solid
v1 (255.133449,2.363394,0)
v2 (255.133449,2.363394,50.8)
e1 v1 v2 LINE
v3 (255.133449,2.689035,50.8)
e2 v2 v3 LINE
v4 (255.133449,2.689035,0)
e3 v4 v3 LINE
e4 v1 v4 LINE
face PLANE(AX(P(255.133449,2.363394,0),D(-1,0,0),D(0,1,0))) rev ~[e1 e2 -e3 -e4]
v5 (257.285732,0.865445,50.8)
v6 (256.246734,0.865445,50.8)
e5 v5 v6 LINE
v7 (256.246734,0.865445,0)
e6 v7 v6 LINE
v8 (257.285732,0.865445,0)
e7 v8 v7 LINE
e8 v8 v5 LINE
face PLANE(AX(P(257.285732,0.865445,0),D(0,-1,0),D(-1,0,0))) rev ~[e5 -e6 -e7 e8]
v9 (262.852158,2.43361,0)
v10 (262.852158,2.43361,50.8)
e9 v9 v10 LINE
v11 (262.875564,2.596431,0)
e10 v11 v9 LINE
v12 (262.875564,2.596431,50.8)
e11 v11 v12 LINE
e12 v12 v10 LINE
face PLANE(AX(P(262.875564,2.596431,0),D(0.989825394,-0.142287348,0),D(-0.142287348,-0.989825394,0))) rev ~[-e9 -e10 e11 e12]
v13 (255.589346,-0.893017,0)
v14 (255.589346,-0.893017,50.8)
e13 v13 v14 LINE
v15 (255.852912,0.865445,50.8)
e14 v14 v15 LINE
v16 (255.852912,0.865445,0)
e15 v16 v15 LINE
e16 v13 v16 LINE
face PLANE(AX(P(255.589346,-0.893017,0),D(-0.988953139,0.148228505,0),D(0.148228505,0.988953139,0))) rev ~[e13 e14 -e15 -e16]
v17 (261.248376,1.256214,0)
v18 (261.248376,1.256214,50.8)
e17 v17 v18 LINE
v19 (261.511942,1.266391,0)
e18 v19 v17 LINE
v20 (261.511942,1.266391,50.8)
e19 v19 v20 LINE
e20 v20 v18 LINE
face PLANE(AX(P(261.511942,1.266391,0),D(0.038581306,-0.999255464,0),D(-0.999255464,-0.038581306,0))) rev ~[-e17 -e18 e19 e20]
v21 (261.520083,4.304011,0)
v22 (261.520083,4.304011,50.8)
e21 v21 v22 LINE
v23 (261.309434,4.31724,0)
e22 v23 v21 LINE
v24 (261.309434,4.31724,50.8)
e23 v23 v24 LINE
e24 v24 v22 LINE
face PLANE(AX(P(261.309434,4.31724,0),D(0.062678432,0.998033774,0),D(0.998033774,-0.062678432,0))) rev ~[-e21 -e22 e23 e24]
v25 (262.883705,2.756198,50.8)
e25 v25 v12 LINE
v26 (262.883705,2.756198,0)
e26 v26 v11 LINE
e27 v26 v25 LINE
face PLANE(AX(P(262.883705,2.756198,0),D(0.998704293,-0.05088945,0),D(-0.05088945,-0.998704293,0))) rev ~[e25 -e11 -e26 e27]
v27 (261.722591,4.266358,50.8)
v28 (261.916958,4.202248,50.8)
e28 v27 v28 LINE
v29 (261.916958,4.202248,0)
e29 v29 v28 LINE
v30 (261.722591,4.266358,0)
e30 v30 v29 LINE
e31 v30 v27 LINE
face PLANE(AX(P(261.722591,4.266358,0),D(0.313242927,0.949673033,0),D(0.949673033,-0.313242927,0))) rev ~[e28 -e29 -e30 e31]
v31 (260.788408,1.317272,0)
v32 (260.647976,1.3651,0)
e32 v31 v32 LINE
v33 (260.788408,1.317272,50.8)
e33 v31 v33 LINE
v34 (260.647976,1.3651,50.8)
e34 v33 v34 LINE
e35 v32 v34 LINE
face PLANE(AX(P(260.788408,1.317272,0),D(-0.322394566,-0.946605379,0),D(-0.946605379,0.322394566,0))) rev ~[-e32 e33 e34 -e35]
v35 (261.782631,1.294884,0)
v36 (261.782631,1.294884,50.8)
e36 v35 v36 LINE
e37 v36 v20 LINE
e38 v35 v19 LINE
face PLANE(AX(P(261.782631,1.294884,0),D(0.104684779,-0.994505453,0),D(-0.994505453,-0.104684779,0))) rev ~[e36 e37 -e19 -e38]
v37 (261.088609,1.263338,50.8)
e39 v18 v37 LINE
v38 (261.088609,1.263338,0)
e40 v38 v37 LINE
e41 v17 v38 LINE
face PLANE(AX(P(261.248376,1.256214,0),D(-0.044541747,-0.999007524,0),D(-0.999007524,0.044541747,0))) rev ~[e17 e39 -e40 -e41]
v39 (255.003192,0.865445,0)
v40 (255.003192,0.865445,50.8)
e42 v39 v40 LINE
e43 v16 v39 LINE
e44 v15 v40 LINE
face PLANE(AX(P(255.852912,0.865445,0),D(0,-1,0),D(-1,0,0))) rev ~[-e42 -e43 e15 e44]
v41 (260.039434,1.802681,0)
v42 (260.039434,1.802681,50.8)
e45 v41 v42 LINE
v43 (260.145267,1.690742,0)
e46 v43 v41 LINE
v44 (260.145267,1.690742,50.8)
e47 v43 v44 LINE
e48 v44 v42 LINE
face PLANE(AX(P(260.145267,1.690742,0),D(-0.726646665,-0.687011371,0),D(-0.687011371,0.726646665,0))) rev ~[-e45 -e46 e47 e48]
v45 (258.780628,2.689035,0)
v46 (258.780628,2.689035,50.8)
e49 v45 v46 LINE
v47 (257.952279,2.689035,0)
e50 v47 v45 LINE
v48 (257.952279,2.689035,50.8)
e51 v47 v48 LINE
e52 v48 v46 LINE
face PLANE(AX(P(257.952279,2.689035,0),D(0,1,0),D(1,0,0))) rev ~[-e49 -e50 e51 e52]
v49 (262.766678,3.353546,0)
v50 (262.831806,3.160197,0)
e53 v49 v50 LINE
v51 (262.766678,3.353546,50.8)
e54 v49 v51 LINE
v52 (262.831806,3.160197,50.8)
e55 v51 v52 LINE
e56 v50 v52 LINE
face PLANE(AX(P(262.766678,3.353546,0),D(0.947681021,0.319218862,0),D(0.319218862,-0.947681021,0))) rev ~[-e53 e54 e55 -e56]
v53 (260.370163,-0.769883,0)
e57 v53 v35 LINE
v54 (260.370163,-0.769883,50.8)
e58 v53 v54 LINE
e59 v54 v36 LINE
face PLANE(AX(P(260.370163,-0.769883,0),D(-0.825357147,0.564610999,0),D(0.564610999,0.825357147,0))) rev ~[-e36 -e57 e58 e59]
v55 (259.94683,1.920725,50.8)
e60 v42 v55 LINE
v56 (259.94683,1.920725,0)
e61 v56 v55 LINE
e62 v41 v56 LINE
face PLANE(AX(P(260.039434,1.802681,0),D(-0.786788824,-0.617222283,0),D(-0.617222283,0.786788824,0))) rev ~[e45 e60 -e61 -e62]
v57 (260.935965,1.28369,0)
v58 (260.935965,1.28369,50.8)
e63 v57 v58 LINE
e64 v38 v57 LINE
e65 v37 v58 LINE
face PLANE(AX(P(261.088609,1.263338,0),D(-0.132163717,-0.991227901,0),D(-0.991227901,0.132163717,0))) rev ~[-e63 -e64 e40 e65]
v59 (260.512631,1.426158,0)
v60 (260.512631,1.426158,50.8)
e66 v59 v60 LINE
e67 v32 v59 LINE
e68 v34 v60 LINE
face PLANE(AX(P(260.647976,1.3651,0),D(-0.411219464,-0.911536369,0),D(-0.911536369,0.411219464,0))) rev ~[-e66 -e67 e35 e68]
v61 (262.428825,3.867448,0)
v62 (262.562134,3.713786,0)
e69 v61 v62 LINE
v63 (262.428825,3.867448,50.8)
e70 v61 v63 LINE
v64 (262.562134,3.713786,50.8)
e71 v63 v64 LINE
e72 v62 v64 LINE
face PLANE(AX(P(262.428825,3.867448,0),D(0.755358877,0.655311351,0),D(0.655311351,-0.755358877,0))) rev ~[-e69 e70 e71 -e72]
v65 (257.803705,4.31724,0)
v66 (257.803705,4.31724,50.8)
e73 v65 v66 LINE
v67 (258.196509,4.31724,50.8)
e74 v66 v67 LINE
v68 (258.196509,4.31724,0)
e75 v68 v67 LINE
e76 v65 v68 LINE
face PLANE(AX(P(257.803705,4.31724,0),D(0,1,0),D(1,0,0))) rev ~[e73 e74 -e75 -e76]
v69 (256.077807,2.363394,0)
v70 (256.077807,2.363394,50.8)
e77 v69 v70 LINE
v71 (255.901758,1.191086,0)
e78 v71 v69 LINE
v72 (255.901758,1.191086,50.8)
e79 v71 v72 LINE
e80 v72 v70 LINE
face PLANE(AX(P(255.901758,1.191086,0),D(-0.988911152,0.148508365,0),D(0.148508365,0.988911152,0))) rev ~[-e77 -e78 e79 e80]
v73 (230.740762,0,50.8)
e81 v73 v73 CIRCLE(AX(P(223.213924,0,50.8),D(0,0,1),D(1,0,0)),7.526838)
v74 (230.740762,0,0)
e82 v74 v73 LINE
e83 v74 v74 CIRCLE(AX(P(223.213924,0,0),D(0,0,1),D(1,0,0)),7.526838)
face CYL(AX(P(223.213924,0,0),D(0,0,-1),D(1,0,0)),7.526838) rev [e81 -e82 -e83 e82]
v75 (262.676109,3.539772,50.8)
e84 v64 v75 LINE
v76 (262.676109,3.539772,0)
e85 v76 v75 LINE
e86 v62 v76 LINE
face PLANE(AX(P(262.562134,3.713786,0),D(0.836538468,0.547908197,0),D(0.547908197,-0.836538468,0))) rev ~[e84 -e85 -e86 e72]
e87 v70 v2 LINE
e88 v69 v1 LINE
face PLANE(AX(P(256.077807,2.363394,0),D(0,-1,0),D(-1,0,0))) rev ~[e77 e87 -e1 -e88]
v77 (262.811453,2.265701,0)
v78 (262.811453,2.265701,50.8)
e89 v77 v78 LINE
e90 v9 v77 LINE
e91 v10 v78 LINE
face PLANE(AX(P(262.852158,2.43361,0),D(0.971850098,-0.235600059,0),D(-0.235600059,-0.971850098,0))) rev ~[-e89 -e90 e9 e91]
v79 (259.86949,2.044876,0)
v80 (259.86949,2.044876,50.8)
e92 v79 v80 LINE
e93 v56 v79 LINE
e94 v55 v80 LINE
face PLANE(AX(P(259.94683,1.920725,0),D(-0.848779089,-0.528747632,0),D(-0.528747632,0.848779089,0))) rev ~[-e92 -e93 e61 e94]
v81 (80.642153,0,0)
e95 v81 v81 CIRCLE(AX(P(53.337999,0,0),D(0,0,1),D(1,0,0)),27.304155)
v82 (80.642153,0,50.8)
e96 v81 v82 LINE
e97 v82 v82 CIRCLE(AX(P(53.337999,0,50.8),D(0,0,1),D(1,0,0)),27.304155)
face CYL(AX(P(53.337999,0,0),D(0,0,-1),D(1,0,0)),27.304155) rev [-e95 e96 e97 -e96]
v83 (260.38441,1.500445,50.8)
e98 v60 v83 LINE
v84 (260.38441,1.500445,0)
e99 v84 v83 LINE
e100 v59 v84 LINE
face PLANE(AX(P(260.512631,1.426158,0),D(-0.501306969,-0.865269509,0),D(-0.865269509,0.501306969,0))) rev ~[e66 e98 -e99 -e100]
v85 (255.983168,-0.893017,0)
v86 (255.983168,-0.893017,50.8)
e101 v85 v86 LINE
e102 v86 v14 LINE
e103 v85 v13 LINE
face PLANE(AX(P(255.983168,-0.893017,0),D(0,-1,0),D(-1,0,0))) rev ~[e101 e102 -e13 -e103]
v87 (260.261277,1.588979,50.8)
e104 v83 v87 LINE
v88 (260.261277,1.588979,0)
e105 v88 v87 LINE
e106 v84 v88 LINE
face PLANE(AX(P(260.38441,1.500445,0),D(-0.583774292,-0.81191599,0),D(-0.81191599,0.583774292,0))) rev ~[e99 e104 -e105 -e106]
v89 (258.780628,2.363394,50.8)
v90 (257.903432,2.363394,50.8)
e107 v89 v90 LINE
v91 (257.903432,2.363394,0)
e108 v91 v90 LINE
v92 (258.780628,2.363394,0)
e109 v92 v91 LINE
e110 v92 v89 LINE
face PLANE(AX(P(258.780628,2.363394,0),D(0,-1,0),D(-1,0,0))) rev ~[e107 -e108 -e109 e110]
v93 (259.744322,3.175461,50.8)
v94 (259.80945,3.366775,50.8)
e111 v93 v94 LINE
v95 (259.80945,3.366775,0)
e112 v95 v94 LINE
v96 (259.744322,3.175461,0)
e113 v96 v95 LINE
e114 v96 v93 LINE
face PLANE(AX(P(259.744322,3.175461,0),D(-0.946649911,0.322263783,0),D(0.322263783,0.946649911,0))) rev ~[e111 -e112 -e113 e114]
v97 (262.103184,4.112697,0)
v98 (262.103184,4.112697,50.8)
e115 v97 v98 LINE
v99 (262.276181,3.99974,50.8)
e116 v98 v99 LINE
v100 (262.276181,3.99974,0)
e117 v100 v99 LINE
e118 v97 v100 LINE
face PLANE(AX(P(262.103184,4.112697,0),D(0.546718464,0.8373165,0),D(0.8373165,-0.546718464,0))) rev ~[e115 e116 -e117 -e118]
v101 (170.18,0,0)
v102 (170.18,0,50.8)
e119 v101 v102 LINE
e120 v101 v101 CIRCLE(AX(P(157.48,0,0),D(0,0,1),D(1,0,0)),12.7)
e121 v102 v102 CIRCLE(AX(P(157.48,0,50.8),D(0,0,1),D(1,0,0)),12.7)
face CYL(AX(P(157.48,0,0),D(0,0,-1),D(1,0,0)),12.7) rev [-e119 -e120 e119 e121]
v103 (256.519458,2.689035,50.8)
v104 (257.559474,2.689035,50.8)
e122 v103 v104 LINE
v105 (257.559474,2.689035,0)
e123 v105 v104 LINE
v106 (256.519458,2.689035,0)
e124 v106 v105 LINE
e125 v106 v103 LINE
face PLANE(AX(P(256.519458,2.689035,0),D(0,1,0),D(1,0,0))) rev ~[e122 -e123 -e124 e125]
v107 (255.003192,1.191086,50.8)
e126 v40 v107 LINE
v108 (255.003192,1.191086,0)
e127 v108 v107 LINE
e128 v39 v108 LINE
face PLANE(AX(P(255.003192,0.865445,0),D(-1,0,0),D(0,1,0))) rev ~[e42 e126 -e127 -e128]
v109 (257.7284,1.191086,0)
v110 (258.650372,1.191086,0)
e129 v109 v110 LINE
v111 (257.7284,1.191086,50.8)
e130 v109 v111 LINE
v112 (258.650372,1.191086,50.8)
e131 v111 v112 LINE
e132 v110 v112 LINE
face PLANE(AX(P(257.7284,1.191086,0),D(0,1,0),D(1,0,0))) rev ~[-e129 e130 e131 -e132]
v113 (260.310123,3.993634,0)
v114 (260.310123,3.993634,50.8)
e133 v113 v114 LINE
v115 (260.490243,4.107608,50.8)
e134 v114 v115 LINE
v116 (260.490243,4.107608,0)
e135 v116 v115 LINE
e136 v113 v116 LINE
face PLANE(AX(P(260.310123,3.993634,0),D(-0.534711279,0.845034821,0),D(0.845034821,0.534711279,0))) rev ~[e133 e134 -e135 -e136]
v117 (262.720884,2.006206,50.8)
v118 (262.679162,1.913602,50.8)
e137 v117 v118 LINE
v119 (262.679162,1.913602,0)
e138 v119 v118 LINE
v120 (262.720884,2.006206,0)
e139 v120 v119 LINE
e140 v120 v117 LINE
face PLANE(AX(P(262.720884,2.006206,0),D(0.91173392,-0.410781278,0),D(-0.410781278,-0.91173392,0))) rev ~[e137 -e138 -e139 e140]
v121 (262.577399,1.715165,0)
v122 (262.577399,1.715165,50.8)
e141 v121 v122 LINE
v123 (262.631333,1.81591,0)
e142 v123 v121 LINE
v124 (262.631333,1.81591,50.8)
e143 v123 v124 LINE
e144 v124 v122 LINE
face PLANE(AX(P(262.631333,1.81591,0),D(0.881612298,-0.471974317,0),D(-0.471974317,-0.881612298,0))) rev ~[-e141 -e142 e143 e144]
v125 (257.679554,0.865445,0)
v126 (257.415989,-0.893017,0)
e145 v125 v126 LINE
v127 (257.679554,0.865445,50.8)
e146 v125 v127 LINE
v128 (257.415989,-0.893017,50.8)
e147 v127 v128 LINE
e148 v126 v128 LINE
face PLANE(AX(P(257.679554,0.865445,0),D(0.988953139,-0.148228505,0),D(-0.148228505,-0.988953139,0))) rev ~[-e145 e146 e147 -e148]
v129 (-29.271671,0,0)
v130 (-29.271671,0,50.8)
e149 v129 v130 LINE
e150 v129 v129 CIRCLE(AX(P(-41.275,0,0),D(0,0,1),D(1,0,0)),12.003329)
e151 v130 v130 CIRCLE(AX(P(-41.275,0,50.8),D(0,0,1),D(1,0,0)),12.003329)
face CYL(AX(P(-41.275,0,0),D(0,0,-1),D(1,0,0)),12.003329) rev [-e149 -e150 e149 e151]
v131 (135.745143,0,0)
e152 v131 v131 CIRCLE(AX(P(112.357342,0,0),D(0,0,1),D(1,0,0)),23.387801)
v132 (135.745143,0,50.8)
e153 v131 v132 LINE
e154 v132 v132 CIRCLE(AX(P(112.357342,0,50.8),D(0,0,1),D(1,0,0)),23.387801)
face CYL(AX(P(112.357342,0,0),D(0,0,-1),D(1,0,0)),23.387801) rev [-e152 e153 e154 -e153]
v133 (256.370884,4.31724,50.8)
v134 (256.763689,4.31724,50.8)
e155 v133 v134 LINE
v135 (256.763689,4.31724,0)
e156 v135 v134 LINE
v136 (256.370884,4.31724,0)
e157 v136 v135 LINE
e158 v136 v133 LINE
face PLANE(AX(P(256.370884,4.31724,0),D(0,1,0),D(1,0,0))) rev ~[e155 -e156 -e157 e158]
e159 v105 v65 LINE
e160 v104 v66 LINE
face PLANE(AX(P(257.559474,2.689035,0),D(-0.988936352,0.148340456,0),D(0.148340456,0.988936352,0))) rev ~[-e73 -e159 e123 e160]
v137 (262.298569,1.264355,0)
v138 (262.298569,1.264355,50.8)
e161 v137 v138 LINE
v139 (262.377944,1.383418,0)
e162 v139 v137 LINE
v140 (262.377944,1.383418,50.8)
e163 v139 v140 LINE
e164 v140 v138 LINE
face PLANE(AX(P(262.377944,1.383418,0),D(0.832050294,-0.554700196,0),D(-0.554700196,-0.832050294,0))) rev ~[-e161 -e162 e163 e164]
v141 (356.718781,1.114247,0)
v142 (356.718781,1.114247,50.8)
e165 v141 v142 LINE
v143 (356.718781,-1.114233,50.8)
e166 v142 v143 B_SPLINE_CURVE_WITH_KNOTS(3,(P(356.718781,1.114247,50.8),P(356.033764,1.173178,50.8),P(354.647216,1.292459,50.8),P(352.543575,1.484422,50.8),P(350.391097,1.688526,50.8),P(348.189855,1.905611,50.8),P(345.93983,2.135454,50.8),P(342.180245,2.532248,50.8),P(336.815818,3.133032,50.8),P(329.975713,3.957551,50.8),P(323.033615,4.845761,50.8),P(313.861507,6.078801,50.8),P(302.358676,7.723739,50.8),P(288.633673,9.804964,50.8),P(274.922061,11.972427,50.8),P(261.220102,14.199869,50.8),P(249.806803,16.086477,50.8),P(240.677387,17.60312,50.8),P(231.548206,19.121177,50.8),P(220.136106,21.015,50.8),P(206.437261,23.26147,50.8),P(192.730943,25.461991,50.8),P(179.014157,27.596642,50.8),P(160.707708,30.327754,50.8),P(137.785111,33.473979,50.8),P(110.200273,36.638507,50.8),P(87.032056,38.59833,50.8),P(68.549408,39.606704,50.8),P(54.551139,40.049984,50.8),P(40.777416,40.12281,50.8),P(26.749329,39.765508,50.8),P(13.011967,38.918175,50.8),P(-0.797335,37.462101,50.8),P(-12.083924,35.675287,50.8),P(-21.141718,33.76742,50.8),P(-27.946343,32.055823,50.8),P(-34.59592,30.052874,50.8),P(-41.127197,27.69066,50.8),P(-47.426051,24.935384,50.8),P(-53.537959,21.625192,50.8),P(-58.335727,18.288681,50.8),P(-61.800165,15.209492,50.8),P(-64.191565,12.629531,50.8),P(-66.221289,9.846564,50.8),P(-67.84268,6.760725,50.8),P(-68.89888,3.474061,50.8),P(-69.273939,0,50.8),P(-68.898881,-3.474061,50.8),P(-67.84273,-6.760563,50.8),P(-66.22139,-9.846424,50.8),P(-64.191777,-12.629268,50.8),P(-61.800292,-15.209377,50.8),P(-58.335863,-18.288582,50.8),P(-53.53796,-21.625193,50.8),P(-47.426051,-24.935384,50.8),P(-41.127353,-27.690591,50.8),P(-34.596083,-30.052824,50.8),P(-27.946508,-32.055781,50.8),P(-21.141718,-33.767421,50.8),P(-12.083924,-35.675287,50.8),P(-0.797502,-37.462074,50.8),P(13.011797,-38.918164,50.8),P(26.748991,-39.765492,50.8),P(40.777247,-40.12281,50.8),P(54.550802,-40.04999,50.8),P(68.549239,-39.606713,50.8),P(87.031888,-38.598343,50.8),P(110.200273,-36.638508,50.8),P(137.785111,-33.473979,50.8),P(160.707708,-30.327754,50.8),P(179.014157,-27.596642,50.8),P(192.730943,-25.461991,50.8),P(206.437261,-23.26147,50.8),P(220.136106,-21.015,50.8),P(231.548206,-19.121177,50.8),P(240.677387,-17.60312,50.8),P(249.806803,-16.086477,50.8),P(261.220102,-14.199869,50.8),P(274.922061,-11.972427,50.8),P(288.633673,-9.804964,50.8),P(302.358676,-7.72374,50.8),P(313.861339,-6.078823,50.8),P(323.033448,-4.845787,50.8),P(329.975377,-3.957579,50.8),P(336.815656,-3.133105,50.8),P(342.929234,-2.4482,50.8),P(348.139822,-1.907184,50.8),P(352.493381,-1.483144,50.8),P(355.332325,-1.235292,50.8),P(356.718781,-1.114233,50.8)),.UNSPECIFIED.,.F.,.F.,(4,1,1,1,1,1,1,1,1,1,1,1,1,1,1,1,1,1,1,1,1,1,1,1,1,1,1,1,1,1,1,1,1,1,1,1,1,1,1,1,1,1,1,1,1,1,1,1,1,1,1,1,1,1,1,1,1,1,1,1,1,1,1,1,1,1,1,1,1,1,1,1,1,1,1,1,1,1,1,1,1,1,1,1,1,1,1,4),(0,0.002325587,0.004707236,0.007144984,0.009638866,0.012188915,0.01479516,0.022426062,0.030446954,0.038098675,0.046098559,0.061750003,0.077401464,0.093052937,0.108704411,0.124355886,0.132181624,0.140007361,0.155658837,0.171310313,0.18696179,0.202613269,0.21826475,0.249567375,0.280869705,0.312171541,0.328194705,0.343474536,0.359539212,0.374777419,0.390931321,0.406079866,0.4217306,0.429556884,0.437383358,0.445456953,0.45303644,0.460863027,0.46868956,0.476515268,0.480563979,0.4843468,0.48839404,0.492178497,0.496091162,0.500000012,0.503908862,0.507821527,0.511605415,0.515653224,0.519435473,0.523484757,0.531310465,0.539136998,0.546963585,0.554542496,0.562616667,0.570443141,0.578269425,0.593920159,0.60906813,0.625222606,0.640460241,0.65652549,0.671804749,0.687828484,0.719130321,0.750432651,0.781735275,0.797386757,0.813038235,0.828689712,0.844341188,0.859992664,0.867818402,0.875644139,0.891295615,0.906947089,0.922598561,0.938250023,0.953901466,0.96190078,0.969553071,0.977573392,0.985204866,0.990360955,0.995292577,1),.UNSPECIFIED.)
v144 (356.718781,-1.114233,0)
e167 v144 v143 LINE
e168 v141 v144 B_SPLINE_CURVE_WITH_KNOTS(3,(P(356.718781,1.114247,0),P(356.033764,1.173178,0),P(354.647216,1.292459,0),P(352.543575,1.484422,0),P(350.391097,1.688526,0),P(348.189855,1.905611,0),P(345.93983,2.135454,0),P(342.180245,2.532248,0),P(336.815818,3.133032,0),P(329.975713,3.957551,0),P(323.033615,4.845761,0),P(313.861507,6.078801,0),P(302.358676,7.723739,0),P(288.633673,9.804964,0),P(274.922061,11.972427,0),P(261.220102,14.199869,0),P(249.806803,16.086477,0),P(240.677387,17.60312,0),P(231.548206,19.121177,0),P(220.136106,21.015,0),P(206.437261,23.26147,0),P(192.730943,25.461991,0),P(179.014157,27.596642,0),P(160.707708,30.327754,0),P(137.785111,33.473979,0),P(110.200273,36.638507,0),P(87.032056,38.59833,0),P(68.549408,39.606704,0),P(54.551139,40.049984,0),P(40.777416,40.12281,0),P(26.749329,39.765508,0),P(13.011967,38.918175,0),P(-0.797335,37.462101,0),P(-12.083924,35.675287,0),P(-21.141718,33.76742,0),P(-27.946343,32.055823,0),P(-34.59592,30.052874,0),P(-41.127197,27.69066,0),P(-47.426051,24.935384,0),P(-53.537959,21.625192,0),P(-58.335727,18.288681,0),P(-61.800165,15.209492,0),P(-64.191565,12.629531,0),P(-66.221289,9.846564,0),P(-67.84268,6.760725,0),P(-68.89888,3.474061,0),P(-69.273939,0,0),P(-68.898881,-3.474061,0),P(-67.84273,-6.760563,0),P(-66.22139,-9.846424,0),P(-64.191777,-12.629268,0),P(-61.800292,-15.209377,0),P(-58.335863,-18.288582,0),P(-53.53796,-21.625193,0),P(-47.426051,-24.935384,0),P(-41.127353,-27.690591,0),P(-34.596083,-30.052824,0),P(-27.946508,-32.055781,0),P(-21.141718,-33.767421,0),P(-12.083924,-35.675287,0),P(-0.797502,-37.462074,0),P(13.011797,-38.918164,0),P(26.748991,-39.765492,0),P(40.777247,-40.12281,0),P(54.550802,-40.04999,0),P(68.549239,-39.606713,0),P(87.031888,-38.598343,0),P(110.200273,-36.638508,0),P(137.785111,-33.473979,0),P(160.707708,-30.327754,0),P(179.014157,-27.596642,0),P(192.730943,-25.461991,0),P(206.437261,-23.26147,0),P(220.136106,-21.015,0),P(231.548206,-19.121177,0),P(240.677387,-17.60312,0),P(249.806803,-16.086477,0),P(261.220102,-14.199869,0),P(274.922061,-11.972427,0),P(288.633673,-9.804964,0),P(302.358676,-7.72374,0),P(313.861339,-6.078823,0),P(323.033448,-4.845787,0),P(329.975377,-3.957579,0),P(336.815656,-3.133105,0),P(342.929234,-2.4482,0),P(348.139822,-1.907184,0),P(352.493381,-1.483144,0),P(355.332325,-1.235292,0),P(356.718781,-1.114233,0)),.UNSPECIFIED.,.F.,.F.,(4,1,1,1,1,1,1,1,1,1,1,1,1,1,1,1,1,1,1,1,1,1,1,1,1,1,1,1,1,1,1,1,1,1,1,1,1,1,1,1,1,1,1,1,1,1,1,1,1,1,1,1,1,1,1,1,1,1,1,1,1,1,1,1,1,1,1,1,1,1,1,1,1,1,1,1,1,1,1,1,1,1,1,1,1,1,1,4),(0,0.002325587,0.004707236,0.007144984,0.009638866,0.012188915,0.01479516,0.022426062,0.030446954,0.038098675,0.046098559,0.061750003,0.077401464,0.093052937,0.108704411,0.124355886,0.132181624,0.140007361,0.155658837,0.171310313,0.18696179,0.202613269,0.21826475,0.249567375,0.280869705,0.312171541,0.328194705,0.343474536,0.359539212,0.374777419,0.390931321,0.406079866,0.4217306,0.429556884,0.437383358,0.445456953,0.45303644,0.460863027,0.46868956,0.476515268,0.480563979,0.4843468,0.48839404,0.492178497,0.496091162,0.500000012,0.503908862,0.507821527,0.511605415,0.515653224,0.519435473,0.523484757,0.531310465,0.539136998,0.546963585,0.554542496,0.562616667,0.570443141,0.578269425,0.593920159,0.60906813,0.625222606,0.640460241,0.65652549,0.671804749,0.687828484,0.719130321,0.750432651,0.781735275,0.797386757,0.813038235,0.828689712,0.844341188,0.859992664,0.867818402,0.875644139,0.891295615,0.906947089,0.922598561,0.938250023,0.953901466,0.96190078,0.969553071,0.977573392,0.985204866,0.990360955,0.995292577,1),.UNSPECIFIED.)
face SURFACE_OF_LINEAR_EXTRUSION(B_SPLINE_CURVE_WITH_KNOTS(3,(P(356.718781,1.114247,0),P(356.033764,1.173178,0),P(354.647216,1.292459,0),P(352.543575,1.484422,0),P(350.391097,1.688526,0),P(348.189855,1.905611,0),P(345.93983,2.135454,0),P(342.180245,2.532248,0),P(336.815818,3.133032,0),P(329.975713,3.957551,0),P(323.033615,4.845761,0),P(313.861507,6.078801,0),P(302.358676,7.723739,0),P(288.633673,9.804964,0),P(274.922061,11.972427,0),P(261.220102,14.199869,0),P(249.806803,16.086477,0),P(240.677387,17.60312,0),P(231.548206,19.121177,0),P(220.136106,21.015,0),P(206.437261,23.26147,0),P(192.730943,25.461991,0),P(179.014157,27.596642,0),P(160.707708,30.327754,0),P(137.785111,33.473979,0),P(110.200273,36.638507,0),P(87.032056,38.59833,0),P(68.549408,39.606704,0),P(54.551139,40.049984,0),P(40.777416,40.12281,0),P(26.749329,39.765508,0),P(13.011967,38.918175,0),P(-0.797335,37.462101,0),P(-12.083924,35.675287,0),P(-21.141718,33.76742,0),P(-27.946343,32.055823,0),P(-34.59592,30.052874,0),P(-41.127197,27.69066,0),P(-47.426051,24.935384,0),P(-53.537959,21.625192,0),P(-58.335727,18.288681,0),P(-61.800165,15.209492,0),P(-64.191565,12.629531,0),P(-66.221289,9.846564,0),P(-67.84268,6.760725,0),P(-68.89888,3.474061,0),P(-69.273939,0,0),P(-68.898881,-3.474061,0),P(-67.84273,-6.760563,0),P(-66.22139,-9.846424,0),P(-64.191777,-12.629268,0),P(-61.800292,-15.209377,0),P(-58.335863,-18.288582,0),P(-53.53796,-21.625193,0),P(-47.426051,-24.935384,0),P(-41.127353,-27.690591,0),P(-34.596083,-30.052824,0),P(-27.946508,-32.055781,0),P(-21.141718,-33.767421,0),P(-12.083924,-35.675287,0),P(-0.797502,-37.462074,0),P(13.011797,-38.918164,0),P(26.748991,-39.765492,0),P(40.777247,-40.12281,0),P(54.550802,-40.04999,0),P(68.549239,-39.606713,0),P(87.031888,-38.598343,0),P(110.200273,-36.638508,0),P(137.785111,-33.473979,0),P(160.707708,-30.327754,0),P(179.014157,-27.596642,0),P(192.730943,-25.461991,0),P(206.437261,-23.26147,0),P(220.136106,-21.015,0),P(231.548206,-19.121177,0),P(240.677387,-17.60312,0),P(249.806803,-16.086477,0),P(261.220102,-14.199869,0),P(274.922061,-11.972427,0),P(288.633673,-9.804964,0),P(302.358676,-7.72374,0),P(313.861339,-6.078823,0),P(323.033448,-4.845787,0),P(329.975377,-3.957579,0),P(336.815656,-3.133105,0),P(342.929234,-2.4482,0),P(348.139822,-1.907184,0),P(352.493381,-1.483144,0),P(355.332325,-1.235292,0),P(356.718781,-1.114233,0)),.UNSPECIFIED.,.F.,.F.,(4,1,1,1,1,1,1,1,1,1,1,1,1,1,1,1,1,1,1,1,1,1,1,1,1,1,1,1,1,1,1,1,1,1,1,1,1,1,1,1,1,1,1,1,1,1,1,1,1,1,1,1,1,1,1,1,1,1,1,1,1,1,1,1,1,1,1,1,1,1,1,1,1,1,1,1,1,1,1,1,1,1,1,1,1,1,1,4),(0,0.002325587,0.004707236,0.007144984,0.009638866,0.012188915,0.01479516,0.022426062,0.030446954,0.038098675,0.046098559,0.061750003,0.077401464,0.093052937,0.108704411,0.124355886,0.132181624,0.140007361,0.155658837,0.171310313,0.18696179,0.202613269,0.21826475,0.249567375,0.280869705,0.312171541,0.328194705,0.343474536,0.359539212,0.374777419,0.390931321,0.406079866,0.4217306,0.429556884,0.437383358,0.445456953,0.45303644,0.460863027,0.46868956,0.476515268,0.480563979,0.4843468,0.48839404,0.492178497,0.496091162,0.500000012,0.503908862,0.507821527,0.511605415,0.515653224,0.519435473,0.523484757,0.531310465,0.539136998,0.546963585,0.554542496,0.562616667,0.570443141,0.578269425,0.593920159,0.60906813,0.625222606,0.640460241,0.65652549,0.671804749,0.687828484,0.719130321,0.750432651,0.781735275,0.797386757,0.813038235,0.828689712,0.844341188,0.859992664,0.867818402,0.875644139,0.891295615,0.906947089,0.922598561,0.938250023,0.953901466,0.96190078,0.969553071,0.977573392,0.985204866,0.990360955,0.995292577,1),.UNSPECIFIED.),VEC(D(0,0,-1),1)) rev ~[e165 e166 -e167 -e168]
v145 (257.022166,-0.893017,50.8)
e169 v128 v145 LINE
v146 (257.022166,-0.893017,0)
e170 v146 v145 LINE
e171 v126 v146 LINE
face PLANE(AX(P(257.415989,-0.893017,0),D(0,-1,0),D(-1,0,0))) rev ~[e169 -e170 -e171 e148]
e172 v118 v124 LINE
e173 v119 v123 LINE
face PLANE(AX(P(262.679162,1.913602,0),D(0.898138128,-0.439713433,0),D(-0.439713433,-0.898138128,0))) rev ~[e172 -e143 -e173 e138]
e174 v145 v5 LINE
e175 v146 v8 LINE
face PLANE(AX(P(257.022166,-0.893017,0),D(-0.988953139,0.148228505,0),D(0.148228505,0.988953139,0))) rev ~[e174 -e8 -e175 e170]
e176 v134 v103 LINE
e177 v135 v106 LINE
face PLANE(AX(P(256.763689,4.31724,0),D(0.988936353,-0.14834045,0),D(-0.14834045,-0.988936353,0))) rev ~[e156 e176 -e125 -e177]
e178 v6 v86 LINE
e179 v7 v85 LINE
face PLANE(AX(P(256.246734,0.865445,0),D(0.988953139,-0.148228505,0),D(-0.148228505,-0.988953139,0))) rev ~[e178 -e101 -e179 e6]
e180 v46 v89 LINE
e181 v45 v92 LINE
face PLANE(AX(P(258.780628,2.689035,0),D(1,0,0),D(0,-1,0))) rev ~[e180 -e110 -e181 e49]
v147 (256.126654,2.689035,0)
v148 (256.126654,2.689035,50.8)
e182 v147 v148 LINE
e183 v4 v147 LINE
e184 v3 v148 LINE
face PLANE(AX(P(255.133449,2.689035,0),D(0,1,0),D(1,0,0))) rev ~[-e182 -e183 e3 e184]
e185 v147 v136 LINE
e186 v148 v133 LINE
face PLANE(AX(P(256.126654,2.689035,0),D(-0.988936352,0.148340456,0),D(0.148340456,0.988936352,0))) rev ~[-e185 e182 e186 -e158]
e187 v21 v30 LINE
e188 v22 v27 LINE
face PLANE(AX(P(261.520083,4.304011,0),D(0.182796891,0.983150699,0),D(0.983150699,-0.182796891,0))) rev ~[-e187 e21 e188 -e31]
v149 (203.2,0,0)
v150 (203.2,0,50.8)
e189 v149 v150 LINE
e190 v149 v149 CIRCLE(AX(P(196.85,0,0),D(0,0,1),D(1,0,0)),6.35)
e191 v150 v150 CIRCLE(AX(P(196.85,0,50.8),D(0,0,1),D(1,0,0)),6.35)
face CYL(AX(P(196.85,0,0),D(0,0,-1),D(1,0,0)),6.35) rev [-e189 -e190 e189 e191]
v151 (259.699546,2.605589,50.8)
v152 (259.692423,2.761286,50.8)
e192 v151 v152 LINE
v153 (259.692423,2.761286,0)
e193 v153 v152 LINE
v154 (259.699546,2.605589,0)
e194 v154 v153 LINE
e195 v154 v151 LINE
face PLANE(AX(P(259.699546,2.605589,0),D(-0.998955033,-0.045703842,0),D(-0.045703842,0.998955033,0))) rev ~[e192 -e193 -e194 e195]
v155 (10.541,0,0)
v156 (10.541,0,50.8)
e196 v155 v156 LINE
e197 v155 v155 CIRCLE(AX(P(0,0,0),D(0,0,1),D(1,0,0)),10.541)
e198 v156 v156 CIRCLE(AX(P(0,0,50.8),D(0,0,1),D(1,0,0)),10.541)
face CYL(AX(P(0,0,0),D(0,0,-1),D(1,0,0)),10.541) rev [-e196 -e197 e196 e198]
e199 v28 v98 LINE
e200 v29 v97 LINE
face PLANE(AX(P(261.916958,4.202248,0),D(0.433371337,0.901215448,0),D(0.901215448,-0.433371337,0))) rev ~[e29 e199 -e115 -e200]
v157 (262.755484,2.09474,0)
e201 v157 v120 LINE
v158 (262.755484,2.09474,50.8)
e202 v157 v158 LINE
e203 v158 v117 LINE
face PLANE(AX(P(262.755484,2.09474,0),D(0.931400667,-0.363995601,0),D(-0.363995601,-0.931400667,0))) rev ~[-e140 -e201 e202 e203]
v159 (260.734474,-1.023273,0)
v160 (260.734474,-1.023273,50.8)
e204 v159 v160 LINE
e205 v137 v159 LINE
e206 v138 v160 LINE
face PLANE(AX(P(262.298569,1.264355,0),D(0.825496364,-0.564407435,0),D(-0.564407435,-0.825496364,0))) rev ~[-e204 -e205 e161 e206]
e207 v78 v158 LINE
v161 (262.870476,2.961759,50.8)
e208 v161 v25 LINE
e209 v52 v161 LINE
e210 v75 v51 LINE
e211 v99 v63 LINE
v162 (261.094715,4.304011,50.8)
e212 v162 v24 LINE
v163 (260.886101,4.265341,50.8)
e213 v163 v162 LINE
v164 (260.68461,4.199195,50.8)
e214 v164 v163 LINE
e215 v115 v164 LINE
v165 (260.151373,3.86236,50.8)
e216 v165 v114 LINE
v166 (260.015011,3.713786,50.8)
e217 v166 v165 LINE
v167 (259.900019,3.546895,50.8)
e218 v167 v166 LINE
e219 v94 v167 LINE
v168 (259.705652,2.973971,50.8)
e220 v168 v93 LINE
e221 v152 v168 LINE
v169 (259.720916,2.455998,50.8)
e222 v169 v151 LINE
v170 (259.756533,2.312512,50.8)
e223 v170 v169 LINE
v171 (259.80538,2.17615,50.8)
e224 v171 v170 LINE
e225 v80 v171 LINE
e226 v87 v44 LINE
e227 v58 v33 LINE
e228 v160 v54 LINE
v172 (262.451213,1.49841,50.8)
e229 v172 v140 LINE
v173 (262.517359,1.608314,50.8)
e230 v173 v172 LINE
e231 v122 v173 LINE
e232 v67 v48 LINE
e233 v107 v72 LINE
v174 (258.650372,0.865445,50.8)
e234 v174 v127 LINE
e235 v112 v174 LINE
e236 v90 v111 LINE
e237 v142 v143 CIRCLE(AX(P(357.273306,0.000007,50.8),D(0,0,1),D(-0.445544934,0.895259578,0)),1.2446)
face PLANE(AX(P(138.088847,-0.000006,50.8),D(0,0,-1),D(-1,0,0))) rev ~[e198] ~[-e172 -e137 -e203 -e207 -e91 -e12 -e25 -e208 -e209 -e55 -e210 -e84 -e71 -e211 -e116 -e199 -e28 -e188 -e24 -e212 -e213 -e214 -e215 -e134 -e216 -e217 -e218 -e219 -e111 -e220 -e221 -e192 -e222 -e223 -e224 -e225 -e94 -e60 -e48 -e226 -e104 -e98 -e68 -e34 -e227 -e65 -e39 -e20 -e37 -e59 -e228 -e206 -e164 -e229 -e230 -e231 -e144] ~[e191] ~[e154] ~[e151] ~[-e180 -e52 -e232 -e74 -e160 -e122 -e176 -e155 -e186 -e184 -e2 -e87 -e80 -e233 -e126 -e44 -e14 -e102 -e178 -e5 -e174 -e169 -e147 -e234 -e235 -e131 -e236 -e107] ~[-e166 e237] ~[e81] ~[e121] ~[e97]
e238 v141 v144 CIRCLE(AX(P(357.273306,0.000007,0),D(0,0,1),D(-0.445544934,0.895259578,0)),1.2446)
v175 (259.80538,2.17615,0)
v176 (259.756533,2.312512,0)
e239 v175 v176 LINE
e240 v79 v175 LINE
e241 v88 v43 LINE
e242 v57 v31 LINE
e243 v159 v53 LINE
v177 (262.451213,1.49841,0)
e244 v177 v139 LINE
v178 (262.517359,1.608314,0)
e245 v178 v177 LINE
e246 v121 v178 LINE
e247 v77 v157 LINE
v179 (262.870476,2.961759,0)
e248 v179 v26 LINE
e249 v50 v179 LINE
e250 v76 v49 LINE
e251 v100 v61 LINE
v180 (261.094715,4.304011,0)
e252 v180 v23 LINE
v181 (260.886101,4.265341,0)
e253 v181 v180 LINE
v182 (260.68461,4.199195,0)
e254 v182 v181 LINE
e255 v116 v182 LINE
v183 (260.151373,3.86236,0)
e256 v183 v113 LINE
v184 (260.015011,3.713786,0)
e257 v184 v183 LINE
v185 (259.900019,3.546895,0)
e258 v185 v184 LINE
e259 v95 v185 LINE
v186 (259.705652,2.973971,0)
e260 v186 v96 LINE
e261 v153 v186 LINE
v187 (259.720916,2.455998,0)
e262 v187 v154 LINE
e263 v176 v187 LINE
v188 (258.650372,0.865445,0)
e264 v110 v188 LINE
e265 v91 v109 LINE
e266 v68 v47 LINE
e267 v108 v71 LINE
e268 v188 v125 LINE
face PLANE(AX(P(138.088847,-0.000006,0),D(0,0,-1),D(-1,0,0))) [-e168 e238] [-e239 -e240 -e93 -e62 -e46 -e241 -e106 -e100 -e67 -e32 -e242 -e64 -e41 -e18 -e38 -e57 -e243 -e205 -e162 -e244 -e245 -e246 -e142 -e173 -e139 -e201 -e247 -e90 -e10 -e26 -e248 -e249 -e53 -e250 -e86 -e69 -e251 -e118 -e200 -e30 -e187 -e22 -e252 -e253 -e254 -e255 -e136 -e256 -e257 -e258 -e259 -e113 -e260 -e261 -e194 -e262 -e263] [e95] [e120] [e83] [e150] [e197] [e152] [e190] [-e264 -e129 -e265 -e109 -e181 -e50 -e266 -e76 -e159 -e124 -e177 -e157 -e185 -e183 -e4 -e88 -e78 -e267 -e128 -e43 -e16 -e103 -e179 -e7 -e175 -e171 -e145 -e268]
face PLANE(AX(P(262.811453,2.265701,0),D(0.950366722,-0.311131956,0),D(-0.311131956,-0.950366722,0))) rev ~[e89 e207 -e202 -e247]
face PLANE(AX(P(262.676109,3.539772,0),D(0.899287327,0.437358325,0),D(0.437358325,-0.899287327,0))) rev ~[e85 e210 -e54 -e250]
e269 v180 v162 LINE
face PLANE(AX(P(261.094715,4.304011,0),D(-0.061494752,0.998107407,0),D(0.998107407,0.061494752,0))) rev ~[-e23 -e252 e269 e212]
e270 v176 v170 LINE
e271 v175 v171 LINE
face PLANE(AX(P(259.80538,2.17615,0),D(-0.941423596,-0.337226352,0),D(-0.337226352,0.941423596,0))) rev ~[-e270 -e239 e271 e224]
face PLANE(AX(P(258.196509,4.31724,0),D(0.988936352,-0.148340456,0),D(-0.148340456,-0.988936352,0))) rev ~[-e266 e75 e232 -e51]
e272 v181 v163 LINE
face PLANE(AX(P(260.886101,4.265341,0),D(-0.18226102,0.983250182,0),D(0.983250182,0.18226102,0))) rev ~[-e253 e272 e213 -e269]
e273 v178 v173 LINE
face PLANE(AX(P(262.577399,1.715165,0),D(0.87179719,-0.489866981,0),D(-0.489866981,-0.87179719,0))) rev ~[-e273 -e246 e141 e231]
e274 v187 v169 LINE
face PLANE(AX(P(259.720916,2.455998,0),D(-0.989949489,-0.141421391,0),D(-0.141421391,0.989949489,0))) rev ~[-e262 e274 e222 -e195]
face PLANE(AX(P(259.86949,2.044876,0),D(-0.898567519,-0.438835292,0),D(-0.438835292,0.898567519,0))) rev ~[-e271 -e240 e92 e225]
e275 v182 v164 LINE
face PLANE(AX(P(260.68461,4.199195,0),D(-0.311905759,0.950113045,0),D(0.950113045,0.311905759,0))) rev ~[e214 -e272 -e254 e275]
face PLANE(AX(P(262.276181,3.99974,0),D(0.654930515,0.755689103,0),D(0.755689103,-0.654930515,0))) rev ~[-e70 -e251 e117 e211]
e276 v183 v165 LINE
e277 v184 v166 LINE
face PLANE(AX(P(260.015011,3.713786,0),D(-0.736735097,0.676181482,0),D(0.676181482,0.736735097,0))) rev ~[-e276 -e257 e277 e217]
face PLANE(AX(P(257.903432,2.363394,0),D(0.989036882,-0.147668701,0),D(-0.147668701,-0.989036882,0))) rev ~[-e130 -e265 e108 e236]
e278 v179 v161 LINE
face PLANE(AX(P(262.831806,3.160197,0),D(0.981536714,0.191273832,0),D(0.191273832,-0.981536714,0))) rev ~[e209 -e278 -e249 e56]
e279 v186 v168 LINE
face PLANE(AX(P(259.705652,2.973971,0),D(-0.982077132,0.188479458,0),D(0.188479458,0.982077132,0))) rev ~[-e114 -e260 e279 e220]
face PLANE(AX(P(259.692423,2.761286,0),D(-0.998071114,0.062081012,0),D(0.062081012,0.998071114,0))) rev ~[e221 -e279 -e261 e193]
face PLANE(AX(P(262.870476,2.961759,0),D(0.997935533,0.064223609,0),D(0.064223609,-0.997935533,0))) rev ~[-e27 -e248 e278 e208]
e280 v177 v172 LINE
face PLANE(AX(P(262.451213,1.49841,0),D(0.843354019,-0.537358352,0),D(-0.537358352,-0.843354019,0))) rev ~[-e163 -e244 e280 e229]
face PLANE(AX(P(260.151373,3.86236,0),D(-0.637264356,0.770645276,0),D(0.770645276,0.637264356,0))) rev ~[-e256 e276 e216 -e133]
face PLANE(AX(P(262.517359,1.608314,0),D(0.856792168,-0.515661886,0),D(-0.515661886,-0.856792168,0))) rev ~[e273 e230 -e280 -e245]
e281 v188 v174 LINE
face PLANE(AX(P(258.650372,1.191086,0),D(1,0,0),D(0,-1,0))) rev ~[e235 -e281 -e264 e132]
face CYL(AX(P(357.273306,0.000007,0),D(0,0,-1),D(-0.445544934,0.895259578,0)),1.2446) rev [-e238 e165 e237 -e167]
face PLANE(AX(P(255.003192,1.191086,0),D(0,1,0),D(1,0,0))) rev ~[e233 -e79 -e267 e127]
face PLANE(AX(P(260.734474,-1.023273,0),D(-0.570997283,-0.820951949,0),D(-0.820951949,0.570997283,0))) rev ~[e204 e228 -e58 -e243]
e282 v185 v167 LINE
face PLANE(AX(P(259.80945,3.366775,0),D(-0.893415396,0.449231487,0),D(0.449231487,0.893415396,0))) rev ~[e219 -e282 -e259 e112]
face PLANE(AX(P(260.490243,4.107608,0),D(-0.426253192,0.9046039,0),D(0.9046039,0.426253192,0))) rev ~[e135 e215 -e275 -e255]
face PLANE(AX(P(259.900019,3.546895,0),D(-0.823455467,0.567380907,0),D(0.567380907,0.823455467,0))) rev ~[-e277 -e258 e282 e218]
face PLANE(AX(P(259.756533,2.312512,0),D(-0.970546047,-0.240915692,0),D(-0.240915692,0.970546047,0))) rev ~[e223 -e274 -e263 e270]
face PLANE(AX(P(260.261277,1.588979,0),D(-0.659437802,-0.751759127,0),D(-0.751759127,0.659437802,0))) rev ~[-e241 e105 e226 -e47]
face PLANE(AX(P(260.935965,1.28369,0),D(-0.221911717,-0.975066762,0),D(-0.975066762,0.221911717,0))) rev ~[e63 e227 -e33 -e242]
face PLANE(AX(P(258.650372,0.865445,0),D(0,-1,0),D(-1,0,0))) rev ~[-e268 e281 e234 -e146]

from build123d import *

# Parameters (mm, degrees)
SKETCH2_R           = 12.003328726
SKETCH2_R_2         = 10.541
SKETCH2_R_3         = 27.304154698
SKETCH2_R_4         = 12.7
SKETCH2_R_5         = 7.526838105
SKETCH2_R_6         = 23.387800821
SKETCH2_R_7         = 6.35
BOSS_EXTRUDE1_DEPTH = 50.8


with BuildPart() as part:
    # Sketch2 → Boss-Extrude1 (new body)
    with BuildSketch(Plane.XY):
        with BuildLine():
            ThreePointArc((356.718780851, 1.114246934), (356.028706076, 6.909e-06), (356.718780769, -1.114233167))
            add(Edge.make_bspline(
                [(356.718780851, 1.114246934), (356.033763733, 1.173178101), (354.647215992, 1.292458827), (352.543574548, 1.484422063), (350.391097334, 1.688526485), (348.189855433, 1.905610892), (345.939829836, 2.13545429), (342.180245096, 2.53224762), (336.815818374, 3.133032363), (329.975713328, 3.957551325), (323.033615237, 4.845760717), (313.861506597, 6.078800999), (302.358675653, 7.723739203), (288.633672555, 9.80496392), (274.922061416, 11.972426821), (261.220102315, 14.199869318), (249.806802837, 16.086476937), (240.677387257, 17.603119966), (231.548206374, 19.121176588), (220.136105784, 21.014999661), (206.43726149, 23.261469784), (192.730942806, 25.461990774), (179.01415664, 27.596642338), (160.707707627, 30.327753752), (137.785111444, 33.473978606), (110.200272914, 36.63850744), (87.032056492, 38.598329543), (68.549407972, 39.606704265), (54.551139494, 40.049984194), (40.777416356, 40.122809517), (26.749329002, 39.765508066), (13.011966821, 38.918174763), (-0.797334523, 37.462101359), (-12.083923843, 35.675286751), (-21.141718351, 33.767420445), (-27.946342799, 32.055823242), (-34.595919898, 30.05287379), (-41.12719714, 27.690660012), (-47.426051091, 24.935383745), (-53.537958995, 21.625191978), (-58.335726674, 18.288680808), (-61.800164877, 15.209491695), (-64.191564999, 12.62953081), (-66.221289411, 9.846563829), (-67.842680289, 6.760725103), (-68.898879952, 3.474061054), (-69.273938885, 7e-08), (-68.898880531, -3.47406132), (-67.842729787, -6.760563023), (-66.221390402, -9.846424147), (-64.191776536, -12.62926824), (-61.800292408, -15.209377424), (-58.33586338, -18.288581891), (-53.537959896, -21.625192576), (-47.426050924, -24.935383755), (-41.127353014, -27.690591071), (-34.596083231, -30.052823865), (-27.946507657, -32.055780944), (-21.14171843, -33.767420619), (-12.083923809, -35.675286718), (-0.797502157, -37.462074171), (13.011797104, -38.918163963), (26.74899058, -39.765492278), (40.777247036, -40.122809938), (54.550801678, -40.049989763), (68.549239322, -39.606712891), (87.031888293, -38.598343159), (110.200272912, -36.638507641), (137.785111445, -33.473978545), (160.707707627, -30.327753754), (179.01415664, -27.596642332), (192.730942806, -25.46199077), (206.43726149, -23.261469779), (220.136105784, -21.014999657), (231.548206374, -19.121176584), (240.677387257, -17.603119961), (249.806802838, -16.086476934), (261.220102314, -14.199869298), (274.922061422, -11.972426872), (288.633672533, -9.804963708), (302.358675736, -7.72373997), (313.861339352, -6.07882259), (323.033448412, -4.845786721), (329.975376812, -3.957579056), (336.81565632, -3.1331054), (342.929234171, -2.448200295), (348.139822058, -1.907183748), (352.49338107, -1.483144307), (355.332325035, -1.235291768), (356.718780769, -1.114233167)],
                knots=[0, 0, 0, 0, 0.002325587, 0.004707236, 0.007144984, 0.009638866, 0.012188915, 0.01479516, 0.022426062, 0.030446954, 0.038098675, 0.046098559, 0.061750003, 0.077401464, 0.093052937, 0.108704411, 0.124355886, 0.132181624, 0.140007361, 0.155658837, 0.171310313, 0.18696179, 0.202613269, 0.21826475, 0.249567375, 0.280869705, 0.312171541, 0.328194705, 0.343474536, 0.359539212, 0.374777419, 0.390931321, 0.406079866, 0.4217306, 0.429556884, 0.437383358, 0.445456953, 0.45303644, 0.460863027, 0.46868956, 0.476515268, 0.480563979, 0.4843468, 0.48839404, 0.492178497, 0.496091162, 0.500000012, 0.503908862, 0.507821527, 0.511605415, 0.515653224, 0.519435473, 0.523484757, 0.531310465, 0.539136998, 0.546963585, 0.554542496, 0.562616667, 0.570443141, 0.578269425, 0.593920159, 0.60906813, 0.625222606, 0.640460241, 0.65652549, 0.671804749, 0.687828484, 0.719130321, 0.750432651, 0.781735275, 0.797386757, 0.813038235, 0.828689712, 0.844341188, 0.859992664, 0.867818402, 0.875644139, 0.891295615, 0.906947089, 0.922598561, 0.938250023, 0.953901466, 0.96190078, 0.969553071, 0.977573392, 0.985204866, 0.990360955, 0.995292577, 1, 1, 1, 1], degree=3))
        make_face()
        with Locations((-41.275, 0)):
            Circle(SKETCH2_R, mode=Mode.SUBTRACT)
        Circle(SKETCH2_R_2, mode=Mode.SUBTRACT)
        with Locations((53.337998602, 0)):
            Circle(SKETCH2_R_3, mode=Mode.SUBTRACT)
        with Locations((157.48, 0)):
            Circle(SKETCH2_R_4, mode=Mode.SUBTRACT)
        with Locations((223.213924097, 0)):
            Circle(SKETCH2_R_5, mode=Mode.SUBTRACT)
        with Locations((112.357342011, 0)):
            Circle(SKETCH2_R_6, mode=Mode.SUBTRACT)
        with Locations((196.85, 0)):
            Circle(SKETCH2_R_7, mode=Mode.SUBTRACT)
        Polygon((258.650371578, 1.191086071), (258.650371578, 0.865445046), (257.679554266, 0.865445046), (257.415988566, -0.893016502), (257.022166452, -0.893016502), (257.285732153, 0.865445046), (256.246733754, 0.865445046), (255.983168053, -0.893016502), (255.58934594, -0.893016502), (255.852911641, 0.865445046), (255.003192091, 0.865445046), (255.003192091, 1.191086071), (255.901757792, 1.191086071), (256.077807478, 2.363393759), (255.133448503, 2.363393759), (255.133448503, 2.689034784), (256.126653628, 2.689034784), (256.370884402, 4.31723991), (256.76368888, 4.31723991), (256.519458116, 2.689034784), (257.559474141, 2.689034784), (257.803704915, 4.31723991), (258.196509402, 4.31723991), (257.952278628, 2.689034784), (258.78062799, 2.689034784), (258.78062799, 2.363393759), (257.903432478, 2.363393759), (257.728400427, 1.191086071), align=None, mode=Mode.SUBTRACT)
        Polygon((260.734474141, -1.023272904), (260.370163241, -0.769883489), (261.782631191, 1.294884146), (261.511942091, 1.266390558), (261.24837638, 1.256214272), (261.088608754, 1.263337671), (260.935964528, 1.283690234), (260.78840844, 1.31727196), (260.647975741, 1.365100485), (260.512631191, 1.426158184), (260.38441004, 1.500445046), (260.261277028, 1.588978697), (260.145267415, 1.690741511), (260.039434078, 1.802680621), (259.946829915, 1.920725485), (259.869490166, 2.044876134), (259.805379591, 2.176150171), (259.75653344, 2.312512347), (259.720916452, 2.455997923), (259.699546254, 2.605589272), (259.692422854, 2.761286385), (259.705652028, 2.973970684), (259.744321902, 3.175461071), (259.809450103, 3.366775171), (259.900019015, 3.54689536), (260.015011003, 3.713786385), (260.151373179, 3.862360109), (260.310123179, 3.993634146), (260.490243367, 4.107608498), (260.684610354, 4.199195046), (260.886100741, 4.265340872), (261.094714528, 4.304010747), (261.309434078, 4.31723991), (261.520083116, 4.304010747), (261.722591128, 4.266358498), (261.916958116, 4.202247923), (262.103184078, 4.112696646), (262.276180867, 3.99973991), (262.428825103, 3.867448247), (262.562134402, 3.713786385), (262.676108754, 3.53977196), (262.766677666, 3.353545998), (262.831805867, 3.160196646), (262.870475741, 2.961759146), (262.883704915, 2.756198247), (262.87556388, 2.596430621), (262.85215844, 2.433610109), (262.811453304, 2.265701448), (262.755483754, 2.09473991), (262.720884402, 2.006206259), (262.679161641, 1.913602096), (262.631333116, 1.815909784), (262.577398817, 1.715164596), (262.517358754, 1.608313634), (262.451212927, 1.498409784), (262.377943691, 1.383417797), (262.298568691, 1.264355297), align=None, mode=Mode.SUBTRACT)
    extrude(amount=BOSS_EXTRUDE1_DEPTH)


solid = part.part
